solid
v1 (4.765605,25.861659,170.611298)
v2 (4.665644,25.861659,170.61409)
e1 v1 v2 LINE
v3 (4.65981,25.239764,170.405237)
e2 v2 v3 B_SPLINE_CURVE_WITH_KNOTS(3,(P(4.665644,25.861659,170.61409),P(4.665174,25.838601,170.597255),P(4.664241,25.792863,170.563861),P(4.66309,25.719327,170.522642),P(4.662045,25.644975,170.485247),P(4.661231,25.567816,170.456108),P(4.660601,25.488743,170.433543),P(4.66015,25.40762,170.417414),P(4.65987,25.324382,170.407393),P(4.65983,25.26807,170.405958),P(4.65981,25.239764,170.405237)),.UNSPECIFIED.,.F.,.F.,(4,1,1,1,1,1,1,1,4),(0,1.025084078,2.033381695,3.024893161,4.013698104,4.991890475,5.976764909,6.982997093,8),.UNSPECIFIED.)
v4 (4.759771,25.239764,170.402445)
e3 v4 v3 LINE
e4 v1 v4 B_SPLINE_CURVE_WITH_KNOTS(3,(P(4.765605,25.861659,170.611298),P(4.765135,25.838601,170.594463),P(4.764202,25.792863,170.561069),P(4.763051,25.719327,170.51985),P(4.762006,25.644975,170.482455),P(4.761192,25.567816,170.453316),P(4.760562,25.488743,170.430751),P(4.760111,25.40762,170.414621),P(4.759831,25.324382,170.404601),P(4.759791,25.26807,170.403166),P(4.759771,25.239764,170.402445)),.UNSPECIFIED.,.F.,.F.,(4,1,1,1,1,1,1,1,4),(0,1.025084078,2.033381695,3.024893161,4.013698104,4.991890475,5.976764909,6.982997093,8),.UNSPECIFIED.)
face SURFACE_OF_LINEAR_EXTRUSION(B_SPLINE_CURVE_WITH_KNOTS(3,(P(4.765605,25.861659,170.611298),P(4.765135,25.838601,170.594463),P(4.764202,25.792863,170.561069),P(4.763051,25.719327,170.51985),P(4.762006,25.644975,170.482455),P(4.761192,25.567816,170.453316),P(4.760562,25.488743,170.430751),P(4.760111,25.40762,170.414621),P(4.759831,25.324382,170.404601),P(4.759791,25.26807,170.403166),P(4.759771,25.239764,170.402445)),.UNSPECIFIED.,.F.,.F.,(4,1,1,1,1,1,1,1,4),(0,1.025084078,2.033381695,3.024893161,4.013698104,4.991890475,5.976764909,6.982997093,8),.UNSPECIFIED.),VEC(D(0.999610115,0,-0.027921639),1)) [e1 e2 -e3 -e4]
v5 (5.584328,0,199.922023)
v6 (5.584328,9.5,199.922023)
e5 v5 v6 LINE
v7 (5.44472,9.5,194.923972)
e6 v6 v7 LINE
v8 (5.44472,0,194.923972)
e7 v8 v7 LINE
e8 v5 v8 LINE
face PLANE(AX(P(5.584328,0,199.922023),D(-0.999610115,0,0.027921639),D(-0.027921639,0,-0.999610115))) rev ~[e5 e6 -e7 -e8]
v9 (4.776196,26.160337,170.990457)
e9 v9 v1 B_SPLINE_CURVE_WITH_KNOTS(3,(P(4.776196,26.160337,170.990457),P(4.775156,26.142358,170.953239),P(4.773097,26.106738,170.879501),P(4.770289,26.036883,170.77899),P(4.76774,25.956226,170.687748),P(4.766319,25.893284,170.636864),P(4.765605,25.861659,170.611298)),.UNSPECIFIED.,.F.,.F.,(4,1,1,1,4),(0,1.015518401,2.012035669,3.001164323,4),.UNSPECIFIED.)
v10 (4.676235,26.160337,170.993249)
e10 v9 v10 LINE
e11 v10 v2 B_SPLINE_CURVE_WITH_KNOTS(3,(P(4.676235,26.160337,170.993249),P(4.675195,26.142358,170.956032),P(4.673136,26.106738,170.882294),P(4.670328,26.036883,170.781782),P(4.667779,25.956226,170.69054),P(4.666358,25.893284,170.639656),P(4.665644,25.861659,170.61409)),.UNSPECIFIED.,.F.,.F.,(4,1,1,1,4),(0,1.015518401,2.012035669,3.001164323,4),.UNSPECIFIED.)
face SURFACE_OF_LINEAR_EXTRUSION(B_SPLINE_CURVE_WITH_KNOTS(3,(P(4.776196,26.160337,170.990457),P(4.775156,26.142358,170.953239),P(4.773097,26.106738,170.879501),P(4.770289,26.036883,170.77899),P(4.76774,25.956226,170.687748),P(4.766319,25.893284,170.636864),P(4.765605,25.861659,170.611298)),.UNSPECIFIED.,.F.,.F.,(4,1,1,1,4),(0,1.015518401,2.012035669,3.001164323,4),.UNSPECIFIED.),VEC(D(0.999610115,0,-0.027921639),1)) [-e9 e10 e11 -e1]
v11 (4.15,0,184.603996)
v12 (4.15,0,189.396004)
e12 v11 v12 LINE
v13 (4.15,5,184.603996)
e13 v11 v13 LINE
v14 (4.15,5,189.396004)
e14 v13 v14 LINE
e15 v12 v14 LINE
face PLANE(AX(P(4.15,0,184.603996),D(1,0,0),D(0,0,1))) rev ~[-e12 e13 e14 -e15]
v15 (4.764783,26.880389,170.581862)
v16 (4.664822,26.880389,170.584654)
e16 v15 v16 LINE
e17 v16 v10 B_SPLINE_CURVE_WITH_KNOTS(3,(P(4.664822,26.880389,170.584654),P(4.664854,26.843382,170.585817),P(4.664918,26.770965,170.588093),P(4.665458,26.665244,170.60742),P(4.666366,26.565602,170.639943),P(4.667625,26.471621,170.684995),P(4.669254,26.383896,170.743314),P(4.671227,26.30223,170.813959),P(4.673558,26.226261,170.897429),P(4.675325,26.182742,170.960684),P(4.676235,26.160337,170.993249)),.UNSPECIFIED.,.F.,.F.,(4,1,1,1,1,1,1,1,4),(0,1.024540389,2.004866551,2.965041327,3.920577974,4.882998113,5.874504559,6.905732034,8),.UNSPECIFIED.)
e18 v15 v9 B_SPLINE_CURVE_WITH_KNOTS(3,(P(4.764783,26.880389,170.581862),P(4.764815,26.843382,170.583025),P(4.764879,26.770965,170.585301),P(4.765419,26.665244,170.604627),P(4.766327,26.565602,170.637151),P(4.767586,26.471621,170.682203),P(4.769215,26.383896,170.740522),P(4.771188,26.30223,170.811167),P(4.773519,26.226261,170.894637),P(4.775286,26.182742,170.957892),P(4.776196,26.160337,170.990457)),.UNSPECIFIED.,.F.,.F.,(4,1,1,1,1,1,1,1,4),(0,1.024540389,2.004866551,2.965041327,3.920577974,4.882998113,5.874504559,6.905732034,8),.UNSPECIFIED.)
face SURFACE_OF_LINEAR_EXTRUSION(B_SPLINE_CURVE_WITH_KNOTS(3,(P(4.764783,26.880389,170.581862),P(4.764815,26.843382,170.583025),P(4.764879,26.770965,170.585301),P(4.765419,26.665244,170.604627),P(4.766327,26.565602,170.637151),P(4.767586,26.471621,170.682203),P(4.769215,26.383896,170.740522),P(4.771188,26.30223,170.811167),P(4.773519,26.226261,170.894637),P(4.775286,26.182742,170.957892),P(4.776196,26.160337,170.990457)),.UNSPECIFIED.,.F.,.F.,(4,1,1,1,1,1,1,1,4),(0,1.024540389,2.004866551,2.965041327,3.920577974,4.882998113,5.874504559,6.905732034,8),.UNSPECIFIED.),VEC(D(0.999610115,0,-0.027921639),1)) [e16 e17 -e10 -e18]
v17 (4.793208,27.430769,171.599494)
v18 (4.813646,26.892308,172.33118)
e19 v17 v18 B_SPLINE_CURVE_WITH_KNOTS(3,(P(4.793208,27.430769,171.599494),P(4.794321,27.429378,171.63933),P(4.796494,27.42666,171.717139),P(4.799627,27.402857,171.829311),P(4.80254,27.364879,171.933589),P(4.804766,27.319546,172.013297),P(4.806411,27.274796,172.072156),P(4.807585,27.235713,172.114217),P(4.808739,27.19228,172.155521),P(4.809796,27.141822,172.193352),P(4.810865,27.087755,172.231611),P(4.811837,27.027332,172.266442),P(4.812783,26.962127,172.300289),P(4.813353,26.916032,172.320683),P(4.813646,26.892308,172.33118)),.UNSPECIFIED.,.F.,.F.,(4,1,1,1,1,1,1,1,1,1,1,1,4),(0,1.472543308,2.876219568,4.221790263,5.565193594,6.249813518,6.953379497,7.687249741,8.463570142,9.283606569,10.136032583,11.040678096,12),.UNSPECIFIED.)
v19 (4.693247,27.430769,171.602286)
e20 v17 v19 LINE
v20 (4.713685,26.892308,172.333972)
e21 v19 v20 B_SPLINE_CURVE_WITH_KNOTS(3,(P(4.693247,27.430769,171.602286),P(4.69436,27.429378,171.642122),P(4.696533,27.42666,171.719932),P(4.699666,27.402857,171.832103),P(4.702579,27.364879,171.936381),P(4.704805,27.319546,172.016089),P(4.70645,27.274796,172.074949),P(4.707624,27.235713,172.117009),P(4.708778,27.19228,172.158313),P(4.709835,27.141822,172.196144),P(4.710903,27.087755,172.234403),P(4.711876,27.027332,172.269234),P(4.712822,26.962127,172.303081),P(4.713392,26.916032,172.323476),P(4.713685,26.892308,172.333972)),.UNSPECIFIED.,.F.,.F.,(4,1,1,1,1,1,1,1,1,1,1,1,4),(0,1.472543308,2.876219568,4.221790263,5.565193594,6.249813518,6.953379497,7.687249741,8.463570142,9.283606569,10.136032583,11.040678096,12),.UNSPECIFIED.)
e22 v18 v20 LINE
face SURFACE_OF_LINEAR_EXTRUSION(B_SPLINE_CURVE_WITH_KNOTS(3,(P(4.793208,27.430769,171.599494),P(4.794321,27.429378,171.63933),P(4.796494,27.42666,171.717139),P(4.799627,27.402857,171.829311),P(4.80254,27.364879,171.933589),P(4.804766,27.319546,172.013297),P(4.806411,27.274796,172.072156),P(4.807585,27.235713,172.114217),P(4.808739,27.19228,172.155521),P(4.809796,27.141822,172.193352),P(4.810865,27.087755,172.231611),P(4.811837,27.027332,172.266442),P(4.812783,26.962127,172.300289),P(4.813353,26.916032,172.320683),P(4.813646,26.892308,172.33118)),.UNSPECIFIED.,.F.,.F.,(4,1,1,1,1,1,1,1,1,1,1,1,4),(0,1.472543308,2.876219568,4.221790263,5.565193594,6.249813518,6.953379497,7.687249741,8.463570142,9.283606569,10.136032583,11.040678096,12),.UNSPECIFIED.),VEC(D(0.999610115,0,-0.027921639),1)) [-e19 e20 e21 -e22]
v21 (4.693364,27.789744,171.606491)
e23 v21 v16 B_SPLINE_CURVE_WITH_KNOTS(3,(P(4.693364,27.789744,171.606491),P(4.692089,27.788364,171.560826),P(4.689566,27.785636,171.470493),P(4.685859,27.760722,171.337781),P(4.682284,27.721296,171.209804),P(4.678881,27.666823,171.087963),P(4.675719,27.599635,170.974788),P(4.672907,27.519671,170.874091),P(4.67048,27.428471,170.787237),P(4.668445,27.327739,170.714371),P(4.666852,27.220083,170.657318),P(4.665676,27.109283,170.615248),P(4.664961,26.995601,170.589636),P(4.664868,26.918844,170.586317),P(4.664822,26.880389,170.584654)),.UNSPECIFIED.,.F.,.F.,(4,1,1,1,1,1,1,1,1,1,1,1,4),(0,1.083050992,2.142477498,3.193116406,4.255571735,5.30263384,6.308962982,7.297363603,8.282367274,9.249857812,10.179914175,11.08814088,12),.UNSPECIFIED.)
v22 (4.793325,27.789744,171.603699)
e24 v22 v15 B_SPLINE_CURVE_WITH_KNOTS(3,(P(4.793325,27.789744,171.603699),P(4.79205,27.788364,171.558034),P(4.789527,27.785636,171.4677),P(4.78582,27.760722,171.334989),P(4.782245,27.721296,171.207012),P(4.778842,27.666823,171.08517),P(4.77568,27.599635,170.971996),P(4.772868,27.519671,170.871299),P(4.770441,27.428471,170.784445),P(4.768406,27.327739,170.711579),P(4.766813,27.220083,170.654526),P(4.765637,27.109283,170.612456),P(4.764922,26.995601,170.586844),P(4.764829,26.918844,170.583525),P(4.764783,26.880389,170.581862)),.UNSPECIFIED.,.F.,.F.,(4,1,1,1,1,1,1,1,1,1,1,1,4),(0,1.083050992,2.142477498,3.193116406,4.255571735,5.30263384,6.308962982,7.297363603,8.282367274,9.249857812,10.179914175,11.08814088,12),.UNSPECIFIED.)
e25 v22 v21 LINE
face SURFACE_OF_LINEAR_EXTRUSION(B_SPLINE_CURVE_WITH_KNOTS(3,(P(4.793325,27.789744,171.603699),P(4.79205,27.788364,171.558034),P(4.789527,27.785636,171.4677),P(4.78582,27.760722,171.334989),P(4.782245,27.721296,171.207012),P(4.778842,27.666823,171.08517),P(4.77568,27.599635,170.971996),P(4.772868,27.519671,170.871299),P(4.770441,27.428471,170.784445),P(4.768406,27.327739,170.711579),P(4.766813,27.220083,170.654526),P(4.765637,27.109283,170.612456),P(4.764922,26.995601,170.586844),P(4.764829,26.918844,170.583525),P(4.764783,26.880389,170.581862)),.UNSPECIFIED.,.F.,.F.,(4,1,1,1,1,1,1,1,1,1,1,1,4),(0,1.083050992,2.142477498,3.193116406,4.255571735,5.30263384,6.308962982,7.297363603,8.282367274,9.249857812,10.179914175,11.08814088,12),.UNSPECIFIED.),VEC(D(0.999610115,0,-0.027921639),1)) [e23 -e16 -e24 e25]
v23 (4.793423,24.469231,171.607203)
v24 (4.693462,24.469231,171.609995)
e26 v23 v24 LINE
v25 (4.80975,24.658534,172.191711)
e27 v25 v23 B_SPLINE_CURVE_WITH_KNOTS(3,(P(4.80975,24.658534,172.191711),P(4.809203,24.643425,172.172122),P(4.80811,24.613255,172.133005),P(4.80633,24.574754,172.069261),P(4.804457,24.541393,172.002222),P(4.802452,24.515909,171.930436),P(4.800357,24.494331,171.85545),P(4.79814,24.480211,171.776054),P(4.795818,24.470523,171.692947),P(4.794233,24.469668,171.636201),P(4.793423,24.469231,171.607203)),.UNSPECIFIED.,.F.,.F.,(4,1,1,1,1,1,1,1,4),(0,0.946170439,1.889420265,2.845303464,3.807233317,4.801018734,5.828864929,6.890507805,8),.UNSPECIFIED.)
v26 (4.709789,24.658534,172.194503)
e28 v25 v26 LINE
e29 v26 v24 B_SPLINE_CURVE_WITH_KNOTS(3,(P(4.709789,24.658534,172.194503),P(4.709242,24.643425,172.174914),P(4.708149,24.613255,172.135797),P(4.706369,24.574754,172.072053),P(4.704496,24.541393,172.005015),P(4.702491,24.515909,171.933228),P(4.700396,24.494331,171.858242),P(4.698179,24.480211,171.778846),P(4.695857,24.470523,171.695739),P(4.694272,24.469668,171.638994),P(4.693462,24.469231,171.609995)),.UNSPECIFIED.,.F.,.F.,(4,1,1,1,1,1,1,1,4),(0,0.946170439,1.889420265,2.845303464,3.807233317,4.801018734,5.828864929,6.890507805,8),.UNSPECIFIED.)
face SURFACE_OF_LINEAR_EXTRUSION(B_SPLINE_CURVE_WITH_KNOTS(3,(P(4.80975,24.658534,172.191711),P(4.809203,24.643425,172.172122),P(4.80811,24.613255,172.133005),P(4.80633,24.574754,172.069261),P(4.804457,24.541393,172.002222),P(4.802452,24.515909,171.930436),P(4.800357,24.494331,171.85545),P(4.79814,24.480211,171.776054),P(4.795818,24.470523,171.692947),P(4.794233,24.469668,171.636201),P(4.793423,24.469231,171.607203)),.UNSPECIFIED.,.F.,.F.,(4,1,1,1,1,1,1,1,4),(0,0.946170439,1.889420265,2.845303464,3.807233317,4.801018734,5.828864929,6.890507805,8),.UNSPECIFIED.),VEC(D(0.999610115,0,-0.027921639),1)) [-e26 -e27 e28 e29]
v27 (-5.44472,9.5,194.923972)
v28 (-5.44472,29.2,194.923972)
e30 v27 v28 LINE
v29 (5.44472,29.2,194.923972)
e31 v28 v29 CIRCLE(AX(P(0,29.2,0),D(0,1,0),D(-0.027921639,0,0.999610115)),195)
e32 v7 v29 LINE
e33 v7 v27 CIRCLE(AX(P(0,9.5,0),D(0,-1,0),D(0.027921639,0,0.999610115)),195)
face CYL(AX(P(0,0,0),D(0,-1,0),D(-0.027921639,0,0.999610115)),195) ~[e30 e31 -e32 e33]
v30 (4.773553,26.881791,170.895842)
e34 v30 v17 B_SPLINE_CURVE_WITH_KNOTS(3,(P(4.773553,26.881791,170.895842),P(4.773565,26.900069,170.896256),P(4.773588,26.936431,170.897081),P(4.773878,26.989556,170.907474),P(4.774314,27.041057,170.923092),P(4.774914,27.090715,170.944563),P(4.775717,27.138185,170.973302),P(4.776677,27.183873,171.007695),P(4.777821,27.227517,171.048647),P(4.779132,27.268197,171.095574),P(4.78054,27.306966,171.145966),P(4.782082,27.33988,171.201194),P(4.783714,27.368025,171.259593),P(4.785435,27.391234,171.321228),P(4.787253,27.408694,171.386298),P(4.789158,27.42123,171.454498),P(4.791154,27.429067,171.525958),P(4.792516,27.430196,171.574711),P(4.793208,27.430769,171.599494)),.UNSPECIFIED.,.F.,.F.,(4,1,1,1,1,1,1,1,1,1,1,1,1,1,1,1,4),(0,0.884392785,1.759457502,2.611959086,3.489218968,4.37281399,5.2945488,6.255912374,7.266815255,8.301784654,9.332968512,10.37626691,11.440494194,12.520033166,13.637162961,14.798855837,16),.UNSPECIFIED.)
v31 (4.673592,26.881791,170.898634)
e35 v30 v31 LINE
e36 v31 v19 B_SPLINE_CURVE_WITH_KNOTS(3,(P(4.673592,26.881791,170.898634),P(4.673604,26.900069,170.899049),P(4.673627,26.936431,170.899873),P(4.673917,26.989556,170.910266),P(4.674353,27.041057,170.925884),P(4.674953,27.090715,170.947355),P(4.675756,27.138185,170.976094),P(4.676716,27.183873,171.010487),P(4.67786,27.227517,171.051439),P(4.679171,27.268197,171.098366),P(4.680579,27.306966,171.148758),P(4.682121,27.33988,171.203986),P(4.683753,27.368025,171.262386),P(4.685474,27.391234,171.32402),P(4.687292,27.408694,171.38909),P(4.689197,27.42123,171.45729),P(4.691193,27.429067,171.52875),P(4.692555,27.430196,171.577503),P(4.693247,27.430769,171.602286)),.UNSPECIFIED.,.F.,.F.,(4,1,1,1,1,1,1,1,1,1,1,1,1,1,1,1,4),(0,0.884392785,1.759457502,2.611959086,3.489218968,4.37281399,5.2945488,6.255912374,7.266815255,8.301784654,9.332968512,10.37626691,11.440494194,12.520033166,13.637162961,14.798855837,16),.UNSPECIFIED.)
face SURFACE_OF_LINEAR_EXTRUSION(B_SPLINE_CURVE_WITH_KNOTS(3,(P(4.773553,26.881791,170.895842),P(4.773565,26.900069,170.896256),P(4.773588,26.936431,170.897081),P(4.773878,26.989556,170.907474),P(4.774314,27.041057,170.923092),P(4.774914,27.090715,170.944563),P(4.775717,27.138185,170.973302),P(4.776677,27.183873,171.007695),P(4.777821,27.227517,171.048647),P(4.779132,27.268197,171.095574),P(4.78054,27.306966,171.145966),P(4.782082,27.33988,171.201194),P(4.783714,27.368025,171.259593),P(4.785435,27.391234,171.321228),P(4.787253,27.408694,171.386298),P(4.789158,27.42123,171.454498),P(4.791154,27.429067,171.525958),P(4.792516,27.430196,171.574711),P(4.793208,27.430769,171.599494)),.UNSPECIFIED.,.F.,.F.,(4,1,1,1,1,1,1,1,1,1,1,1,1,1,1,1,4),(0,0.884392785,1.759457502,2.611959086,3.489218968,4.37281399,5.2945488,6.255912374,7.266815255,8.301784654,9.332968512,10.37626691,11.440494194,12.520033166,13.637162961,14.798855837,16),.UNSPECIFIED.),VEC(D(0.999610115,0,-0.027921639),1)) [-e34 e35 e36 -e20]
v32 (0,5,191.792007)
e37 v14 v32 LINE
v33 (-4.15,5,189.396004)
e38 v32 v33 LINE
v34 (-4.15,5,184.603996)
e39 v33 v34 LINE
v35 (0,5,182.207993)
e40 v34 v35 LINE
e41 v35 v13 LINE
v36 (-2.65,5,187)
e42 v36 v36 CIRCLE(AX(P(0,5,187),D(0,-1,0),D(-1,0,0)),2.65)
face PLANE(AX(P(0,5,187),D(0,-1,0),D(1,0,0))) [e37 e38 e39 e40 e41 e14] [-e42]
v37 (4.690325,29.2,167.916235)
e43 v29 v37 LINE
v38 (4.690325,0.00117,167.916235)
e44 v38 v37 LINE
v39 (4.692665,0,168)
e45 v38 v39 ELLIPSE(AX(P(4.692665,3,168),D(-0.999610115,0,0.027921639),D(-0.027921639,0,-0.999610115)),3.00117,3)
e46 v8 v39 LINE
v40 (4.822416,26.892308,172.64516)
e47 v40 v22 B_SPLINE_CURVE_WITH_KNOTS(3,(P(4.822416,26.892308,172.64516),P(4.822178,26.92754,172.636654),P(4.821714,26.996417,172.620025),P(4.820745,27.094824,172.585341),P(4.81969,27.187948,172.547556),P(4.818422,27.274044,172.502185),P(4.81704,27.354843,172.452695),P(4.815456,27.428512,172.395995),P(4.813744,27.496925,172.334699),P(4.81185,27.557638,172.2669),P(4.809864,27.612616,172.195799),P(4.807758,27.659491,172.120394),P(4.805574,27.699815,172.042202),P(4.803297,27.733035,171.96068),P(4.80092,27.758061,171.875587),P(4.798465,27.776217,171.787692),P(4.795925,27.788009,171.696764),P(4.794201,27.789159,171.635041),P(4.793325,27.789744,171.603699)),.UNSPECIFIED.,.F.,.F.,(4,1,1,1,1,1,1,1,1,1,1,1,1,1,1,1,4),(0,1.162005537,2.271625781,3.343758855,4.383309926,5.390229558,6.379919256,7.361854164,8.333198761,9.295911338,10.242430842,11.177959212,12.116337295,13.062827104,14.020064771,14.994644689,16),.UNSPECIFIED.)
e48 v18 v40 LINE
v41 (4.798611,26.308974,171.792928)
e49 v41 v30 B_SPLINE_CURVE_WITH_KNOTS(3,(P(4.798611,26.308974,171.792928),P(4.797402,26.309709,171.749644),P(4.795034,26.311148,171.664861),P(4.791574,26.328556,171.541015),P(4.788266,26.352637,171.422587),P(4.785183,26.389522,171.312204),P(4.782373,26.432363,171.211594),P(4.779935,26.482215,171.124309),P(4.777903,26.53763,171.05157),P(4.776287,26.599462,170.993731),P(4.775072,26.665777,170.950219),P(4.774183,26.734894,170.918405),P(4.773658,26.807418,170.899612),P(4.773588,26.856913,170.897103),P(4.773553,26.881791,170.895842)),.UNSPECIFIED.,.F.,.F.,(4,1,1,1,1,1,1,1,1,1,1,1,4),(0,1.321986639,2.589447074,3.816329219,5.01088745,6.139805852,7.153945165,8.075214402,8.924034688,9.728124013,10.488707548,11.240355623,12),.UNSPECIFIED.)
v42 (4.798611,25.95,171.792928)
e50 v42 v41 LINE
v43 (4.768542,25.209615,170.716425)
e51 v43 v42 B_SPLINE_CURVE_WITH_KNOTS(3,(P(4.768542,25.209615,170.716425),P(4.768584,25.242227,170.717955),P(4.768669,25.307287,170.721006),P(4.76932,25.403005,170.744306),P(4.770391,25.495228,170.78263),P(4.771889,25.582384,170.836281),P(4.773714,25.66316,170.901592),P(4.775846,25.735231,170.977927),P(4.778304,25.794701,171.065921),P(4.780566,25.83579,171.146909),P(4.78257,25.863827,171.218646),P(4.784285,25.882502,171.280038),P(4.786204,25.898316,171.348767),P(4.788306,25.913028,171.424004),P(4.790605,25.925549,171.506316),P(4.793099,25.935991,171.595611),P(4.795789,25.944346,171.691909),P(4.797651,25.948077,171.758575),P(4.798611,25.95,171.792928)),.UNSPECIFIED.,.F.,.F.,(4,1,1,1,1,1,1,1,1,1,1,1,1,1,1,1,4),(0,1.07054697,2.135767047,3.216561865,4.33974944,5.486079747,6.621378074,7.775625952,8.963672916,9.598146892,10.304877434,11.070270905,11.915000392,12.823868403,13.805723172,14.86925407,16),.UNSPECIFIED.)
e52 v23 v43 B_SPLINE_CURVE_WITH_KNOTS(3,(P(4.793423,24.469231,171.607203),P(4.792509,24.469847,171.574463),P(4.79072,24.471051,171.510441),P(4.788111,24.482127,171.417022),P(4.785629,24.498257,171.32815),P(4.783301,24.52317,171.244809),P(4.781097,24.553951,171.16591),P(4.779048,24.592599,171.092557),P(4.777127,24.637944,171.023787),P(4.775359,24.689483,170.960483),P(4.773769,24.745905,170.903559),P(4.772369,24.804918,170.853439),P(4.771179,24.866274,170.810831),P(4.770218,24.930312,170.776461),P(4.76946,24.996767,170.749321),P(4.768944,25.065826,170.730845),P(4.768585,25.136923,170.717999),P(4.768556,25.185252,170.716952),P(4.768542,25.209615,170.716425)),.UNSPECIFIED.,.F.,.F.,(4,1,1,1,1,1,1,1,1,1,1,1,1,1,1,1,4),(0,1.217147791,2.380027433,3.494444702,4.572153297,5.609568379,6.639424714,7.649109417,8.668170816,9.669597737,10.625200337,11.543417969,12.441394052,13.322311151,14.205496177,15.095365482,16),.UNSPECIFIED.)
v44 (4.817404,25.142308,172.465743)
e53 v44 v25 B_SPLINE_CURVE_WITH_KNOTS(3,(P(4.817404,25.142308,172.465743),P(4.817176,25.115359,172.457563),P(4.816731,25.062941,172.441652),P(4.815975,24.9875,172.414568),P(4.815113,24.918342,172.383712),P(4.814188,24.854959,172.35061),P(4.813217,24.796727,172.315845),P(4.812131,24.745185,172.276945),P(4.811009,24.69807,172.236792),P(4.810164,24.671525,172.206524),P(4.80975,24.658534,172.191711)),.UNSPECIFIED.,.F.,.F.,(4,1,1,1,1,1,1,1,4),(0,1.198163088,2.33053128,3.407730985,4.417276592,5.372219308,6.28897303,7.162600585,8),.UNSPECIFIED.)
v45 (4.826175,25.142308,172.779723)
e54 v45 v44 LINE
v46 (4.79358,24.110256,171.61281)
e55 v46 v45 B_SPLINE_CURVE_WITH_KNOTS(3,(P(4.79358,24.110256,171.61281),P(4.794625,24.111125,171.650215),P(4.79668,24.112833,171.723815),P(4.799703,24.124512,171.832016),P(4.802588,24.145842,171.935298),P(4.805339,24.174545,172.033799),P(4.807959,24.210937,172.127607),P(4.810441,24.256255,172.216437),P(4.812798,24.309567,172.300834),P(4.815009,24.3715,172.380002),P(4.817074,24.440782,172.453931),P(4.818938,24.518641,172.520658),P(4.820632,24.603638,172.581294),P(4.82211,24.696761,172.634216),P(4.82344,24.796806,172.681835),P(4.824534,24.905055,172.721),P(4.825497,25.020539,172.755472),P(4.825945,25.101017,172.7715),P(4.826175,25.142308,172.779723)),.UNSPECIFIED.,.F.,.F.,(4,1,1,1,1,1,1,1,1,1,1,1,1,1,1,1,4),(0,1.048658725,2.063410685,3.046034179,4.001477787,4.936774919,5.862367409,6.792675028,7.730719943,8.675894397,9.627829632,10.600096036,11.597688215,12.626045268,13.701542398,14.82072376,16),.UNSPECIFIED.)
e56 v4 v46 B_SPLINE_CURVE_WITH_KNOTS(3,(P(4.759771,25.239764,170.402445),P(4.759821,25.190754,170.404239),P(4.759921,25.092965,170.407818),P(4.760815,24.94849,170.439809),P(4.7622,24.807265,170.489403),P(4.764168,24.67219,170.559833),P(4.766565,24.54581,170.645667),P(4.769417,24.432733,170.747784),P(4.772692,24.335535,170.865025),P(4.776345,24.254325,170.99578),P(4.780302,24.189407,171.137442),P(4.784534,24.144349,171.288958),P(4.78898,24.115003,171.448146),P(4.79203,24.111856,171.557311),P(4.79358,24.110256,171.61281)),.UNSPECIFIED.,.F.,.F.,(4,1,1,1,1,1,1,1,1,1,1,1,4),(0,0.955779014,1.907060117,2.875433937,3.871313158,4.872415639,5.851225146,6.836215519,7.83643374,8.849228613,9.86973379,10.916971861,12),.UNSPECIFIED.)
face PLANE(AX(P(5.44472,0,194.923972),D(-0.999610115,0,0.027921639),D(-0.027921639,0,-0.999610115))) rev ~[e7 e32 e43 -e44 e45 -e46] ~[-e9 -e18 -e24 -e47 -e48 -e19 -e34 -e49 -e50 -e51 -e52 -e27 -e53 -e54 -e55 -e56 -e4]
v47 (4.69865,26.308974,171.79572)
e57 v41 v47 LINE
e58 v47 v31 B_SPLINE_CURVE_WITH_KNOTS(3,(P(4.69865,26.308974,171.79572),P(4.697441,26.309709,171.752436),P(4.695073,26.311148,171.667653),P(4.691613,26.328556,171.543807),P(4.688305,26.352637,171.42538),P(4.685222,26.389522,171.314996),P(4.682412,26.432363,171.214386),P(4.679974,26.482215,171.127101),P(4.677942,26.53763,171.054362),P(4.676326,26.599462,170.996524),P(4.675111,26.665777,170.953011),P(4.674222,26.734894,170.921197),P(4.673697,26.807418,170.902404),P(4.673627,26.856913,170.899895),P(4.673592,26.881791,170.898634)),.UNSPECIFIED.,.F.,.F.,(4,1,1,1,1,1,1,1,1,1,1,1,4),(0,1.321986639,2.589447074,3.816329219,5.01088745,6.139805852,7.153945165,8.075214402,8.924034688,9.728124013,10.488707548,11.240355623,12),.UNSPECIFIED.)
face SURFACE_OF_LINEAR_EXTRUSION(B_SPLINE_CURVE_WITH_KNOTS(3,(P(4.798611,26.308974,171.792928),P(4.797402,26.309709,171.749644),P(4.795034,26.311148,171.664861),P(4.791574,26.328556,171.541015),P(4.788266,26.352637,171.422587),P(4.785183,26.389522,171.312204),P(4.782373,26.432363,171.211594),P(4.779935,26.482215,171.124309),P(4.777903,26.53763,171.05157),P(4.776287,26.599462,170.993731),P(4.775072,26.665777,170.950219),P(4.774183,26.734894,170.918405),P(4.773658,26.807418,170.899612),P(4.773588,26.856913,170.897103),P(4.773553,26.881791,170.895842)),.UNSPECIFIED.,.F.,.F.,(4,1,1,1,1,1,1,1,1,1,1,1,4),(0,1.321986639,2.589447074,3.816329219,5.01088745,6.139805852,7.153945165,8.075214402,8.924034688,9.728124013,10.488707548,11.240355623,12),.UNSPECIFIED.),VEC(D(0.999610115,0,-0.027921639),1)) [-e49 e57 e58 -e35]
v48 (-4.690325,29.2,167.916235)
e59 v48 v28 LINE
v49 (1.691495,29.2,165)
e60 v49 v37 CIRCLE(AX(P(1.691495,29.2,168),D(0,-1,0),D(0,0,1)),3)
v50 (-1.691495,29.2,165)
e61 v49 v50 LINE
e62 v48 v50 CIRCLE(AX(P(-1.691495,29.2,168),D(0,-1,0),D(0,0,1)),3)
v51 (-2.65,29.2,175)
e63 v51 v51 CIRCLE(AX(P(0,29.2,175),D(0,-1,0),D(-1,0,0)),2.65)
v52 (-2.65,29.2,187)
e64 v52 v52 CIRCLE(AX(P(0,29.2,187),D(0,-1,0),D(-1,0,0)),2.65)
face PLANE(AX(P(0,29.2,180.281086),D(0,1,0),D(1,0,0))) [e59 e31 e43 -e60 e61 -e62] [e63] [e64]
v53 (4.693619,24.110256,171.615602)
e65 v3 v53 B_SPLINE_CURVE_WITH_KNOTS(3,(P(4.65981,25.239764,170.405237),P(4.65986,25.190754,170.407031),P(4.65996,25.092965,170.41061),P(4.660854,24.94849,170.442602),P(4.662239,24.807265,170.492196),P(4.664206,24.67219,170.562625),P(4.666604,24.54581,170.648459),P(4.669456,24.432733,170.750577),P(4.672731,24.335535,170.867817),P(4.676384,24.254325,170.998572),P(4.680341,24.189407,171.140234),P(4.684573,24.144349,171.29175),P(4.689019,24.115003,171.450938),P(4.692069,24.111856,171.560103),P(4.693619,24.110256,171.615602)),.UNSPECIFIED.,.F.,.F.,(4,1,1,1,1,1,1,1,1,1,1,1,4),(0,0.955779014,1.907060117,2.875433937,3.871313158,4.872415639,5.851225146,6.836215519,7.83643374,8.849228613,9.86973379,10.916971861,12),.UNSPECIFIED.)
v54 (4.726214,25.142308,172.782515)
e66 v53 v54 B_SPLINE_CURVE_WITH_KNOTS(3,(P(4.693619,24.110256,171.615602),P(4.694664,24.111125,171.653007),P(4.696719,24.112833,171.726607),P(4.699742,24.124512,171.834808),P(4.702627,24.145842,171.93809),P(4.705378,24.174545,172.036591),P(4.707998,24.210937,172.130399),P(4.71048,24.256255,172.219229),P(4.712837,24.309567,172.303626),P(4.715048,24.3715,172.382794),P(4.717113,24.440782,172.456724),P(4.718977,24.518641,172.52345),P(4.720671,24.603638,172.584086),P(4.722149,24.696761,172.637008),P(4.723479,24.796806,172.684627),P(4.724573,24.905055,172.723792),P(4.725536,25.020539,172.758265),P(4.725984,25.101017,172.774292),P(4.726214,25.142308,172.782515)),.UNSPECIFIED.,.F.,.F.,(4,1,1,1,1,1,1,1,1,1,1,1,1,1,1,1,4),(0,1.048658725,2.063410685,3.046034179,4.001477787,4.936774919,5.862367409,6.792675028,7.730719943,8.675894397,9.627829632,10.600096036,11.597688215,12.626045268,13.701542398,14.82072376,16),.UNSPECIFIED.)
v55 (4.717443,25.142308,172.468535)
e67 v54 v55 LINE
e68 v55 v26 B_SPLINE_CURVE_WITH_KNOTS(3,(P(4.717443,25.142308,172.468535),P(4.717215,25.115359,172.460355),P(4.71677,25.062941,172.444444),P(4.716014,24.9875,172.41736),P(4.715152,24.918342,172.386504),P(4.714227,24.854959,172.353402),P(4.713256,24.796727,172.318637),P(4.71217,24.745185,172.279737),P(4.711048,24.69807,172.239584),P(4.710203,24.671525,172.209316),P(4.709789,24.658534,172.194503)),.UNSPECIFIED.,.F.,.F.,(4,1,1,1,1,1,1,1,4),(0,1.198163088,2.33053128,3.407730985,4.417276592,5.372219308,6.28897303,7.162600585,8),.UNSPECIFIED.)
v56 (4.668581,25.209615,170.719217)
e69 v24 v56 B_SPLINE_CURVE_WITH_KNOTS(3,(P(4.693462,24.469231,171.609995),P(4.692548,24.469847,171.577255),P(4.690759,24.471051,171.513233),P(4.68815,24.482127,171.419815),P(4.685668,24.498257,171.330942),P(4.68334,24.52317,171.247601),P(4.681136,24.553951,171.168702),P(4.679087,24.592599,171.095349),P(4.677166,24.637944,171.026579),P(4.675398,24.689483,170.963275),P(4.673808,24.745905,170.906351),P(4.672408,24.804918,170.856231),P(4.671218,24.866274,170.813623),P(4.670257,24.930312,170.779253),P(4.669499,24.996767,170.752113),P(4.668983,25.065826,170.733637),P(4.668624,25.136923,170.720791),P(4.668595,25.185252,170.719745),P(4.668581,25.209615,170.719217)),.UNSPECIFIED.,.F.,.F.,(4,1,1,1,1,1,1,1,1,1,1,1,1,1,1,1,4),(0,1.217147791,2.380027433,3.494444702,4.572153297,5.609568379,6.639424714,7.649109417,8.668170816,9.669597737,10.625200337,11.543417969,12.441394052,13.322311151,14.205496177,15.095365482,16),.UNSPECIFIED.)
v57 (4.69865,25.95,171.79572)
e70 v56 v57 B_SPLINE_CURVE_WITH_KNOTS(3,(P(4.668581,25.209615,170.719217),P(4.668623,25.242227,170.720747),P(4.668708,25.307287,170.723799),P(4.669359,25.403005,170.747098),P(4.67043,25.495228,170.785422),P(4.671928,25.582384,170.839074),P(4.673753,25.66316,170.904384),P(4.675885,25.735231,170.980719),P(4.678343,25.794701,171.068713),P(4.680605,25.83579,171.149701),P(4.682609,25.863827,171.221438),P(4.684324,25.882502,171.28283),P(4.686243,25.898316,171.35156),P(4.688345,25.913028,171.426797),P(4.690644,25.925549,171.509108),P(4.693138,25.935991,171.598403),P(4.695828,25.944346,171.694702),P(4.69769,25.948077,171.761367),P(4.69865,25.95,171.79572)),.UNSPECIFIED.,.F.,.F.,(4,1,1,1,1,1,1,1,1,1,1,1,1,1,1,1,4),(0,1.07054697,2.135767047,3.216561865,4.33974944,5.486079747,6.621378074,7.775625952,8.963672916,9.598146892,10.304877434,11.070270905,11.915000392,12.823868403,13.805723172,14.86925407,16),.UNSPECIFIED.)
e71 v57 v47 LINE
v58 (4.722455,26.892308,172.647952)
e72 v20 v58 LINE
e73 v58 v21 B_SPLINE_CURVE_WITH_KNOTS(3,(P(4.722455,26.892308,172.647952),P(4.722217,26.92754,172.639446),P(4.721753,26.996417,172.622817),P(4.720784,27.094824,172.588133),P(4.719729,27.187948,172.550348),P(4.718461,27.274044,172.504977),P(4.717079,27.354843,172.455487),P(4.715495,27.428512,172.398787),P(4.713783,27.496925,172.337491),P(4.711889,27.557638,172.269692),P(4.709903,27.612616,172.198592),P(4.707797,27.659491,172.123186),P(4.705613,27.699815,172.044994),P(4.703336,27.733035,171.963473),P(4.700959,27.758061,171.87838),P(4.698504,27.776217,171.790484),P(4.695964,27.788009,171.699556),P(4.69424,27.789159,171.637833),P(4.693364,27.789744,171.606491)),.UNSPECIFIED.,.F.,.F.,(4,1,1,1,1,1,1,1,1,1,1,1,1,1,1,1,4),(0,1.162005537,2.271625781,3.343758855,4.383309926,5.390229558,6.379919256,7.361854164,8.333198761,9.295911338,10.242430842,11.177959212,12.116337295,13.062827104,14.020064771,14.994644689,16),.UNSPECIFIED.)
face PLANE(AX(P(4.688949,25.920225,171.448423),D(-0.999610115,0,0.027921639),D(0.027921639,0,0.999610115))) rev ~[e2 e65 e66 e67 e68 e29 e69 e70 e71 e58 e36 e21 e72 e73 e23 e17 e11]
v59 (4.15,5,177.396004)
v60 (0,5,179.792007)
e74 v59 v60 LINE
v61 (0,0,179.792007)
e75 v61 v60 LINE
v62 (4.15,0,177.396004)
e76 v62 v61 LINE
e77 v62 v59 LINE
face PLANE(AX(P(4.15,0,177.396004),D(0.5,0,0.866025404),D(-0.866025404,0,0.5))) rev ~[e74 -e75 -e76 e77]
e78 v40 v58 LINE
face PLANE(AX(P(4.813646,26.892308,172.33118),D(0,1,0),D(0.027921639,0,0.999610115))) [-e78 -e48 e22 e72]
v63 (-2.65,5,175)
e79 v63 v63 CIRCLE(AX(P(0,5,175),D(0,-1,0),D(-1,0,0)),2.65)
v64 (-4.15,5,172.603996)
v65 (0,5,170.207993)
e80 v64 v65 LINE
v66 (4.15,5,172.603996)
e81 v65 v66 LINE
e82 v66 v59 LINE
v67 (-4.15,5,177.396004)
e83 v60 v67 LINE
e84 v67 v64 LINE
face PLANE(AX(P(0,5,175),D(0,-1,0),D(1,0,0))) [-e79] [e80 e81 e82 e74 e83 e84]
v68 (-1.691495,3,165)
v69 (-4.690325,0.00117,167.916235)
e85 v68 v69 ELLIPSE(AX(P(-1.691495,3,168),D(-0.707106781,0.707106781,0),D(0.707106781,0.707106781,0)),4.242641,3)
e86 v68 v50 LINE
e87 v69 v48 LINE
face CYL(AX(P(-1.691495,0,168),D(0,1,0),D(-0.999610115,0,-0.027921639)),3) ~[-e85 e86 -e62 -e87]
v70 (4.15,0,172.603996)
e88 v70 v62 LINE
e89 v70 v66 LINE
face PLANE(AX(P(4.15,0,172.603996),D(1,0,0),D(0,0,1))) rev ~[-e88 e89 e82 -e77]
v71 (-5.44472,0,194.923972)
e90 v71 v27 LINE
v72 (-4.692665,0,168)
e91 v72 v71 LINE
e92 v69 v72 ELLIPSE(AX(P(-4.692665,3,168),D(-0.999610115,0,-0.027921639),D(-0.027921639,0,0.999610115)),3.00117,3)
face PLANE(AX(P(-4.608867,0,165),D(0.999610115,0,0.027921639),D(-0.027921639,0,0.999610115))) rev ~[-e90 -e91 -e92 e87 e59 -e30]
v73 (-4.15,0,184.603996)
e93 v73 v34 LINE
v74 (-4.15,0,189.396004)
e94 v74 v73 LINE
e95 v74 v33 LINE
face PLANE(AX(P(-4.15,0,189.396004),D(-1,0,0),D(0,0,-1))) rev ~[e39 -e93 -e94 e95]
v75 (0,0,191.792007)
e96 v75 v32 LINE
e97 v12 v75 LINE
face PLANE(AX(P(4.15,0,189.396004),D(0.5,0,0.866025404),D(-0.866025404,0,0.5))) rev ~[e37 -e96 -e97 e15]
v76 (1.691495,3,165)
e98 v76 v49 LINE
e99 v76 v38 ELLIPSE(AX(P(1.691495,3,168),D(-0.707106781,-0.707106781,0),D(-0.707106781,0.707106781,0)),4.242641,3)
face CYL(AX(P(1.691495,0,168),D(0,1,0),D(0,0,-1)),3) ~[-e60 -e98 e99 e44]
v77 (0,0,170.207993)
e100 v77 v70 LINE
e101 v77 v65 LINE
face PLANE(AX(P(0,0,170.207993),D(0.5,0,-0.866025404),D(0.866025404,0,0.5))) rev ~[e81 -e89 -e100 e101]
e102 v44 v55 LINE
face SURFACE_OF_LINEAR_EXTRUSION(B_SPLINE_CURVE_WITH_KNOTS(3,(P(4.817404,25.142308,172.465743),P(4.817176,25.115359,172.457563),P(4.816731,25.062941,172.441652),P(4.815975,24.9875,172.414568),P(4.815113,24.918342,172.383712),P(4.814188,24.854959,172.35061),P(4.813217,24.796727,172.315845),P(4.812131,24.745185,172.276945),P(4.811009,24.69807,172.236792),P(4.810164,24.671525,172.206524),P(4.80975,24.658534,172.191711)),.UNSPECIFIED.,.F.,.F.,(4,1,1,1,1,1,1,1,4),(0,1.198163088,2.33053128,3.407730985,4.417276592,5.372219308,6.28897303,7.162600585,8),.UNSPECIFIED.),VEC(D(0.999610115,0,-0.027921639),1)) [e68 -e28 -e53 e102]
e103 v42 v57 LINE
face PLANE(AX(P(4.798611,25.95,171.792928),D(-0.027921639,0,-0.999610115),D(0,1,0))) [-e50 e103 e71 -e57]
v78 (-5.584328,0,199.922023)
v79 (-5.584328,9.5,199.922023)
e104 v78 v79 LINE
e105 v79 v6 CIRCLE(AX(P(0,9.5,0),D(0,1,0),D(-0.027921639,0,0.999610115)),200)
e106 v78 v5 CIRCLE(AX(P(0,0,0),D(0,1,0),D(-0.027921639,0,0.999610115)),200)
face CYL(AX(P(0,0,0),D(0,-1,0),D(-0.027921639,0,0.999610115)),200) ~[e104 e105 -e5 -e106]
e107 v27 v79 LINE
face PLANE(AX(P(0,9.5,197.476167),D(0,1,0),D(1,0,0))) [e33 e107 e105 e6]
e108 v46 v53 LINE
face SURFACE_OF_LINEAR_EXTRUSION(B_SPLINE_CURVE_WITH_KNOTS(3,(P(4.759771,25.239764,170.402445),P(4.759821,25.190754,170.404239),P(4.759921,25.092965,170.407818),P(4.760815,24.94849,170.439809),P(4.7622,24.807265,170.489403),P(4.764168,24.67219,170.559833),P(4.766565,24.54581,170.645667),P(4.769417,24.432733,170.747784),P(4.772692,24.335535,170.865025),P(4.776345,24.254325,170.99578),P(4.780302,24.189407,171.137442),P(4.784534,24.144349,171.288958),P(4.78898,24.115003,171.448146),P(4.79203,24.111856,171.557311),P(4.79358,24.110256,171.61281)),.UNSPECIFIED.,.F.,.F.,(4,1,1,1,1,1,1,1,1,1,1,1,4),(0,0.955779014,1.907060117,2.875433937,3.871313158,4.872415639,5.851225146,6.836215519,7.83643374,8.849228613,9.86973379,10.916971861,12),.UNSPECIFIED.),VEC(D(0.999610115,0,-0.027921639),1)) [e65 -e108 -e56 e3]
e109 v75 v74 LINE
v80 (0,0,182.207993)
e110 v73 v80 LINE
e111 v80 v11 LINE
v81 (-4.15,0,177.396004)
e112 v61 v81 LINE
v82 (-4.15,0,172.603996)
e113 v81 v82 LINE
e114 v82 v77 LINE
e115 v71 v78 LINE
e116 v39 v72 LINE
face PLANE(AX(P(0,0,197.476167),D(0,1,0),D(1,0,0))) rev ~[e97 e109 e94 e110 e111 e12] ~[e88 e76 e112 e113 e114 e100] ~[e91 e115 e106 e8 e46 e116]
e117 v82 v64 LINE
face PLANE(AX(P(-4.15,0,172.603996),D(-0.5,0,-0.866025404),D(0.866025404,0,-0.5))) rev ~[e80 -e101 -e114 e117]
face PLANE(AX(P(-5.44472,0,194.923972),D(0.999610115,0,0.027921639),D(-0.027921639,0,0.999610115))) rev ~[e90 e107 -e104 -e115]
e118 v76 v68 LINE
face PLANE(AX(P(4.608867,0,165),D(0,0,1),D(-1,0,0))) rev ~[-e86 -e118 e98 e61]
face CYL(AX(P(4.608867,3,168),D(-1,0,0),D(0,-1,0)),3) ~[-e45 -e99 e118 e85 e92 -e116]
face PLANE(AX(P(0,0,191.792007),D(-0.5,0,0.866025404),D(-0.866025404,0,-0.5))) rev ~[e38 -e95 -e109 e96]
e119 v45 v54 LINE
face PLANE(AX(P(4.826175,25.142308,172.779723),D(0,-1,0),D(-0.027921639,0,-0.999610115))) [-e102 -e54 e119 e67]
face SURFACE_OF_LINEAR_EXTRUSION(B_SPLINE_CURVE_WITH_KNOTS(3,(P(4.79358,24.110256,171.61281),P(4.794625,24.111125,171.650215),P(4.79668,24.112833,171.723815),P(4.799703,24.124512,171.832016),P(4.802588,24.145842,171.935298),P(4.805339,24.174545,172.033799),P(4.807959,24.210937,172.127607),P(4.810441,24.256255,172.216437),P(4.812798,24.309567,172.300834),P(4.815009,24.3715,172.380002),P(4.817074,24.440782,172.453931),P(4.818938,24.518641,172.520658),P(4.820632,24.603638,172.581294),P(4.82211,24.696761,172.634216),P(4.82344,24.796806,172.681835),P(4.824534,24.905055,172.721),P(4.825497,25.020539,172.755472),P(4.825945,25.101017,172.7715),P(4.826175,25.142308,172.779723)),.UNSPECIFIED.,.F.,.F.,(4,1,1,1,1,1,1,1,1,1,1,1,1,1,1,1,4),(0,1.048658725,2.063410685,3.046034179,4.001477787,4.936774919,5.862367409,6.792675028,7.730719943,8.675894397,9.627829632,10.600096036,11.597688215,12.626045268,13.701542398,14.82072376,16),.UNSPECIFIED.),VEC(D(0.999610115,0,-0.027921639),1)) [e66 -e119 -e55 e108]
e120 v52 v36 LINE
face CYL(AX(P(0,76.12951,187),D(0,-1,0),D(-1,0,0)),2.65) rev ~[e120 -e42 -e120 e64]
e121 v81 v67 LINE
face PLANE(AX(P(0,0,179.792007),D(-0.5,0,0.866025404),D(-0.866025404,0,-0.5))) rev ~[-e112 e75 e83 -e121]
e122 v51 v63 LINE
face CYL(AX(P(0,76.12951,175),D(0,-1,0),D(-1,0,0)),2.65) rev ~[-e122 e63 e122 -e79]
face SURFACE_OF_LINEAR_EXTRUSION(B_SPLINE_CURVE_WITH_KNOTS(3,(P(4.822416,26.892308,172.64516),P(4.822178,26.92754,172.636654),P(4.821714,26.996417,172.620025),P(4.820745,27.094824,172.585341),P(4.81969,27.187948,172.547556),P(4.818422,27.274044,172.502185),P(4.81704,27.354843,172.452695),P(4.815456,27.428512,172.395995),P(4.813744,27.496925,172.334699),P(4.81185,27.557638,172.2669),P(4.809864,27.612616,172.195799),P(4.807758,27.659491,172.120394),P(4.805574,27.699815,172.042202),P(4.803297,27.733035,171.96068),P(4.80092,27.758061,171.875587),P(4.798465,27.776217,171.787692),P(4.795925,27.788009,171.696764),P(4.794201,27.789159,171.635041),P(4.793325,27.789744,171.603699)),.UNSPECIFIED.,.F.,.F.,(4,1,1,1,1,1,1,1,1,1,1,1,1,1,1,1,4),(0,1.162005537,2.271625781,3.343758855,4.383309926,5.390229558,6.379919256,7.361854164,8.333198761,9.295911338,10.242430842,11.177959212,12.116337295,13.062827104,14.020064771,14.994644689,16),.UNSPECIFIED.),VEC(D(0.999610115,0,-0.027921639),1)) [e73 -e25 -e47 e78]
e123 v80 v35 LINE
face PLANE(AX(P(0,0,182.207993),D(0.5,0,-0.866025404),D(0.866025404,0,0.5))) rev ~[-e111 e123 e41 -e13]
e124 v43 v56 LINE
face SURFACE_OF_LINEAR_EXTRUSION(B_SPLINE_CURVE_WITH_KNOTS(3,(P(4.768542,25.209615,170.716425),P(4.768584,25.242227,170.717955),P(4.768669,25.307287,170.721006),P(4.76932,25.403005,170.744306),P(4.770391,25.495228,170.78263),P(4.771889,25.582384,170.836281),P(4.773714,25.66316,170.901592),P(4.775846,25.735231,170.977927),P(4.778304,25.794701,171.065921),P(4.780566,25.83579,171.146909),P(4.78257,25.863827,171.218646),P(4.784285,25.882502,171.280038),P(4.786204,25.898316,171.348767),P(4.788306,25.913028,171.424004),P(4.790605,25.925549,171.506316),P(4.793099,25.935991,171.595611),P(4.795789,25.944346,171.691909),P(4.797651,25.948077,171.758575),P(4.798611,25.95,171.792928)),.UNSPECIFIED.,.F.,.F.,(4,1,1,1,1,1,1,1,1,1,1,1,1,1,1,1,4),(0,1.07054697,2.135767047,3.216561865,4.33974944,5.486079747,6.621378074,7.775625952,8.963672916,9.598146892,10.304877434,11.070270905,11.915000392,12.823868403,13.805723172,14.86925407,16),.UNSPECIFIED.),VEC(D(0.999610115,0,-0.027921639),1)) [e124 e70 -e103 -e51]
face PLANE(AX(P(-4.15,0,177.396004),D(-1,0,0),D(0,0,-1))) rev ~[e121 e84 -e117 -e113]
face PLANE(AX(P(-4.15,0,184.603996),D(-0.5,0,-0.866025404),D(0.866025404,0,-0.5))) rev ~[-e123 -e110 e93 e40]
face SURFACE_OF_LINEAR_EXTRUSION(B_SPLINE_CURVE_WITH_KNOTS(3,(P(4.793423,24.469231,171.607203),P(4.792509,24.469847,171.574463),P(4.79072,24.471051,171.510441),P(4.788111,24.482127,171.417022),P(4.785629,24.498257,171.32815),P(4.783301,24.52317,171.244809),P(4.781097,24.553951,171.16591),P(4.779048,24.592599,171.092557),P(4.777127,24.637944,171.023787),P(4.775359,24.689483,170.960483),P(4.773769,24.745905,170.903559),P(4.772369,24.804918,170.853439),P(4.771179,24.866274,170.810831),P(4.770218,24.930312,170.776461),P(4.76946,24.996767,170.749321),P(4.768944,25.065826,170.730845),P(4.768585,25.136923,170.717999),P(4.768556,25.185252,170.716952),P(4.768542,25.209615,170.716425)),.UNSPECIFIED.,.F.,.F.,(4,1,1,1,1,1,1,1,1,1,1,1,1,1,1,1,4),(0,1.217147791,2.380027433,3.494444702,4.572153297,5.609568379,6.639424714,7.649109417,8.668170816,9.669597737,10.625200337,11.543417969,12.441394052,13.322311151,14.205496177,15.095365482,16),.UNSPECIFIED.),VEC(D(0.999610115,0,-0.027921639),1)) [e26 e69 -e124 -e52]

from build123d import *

# Parameters (mm, degrees)
EXTRUDE_590_DEPTH   = 29.2
EXTRUDE_638_DEPTH   = 9.5
FILLET_1_R          = 3
HOLE_WIZARD_M5_1_D  = 5.3
CUT_EXTRUDE_1_DEPTH = 5
CUT_EXTRUDE_2_DEPTH = 0.1


with BuildPart() as part:
    # 草图1 → Extrude 590 (new body)
    with BuildSketch(Plane(origin=(0, 0, 0), x_dir=(1, 0, 0), z_dir=(0, 1, 0))):
        with BuildLine():
            Line((4.608867317, -165), (-4.608867317, -165))
            Line((-4.608867317, -165), (-5.444719551, -194.923972433))
            ThreePointArc((-5.444719551, -194.923972433), (0, -195), (5.444719551, -194.923972433))
            Line((5.444719551, -194.923972433), (4.608867317, -165))
        make_face()
    extrude(amount=EXTRUDE_590_DEPTH)

    # 草图1<3> → Extrude 638 (add)
    with BuildSketch(Plane(origin=(0, 0, 0), x_dir=(1, 0, 0), z_dir=(0, 1, 0))):
        with BuildLine():
            ThreePointArc((5.444719551, -194.923972433), (0, -195), (-5.444719551, -194.923972433))
            Line((-5.444719551, -194.923972433), (-5.584327745, -199.922023008))
            ThreePointArc((-5.584327745, -199.922023008), (0, -200), (5.584327745, -199.922023008))
            Line((5.584327745, -199.922023008), (5.444719551, -194.923972433))
        make_face()
    extrude(amount=EXTRUDE_638_DEPTH)

    # 圆角1
    fillet_1_edges = [part.edges().sort_by_distance(p)[0] for p in [
        (4.608867317, 14.6, 165),
        (0, 0, 165),
        (-4.608867317, 14.6, 165),
    ]]
    fillet(fillet_1_edges, radius=FILLET_1_R)

    # M5 间隙孔1 (through all)
    with Locations(Plane(origin=(0, 29.2, 0), x_dir=(1, 0, 0), z_dir=(0, 1, 0))):
        with Locations((0, -187), (0, -175)):
            Hole(HOLE_WIZARD_M5_1_D / 2)

    # 草图6 → 切除-拉伸1 (cut)
    with BuildSketch(Plane.XZ):
        Polygon((0, 179.792007234), (-4.15, 177.396003617), (-4.15, 172.603996383), (0, 170.207992766), (4.15, 172.603996383), (4.15, 177.396003617), align=None)
        Polygon((0, 191.792007234), (-4.15, 189.396003617), (-4.15, 184.603996383), (0, 182.207992766), (4.15, 184.603996383), (4.15, 189.396003617), align=None)
    extrude(amount=-CUT_EXTRUDE_1_DEPTH, mode=Mode.SUBTRACT)

    # 草图7 → 切除-拉伸2 (cut)
    with BuildSketch(Plane(origin=(0, 0, 0), x_dir=(-0.02792163872356911, 0, -0.9996101150403545), z_dir=(0.9996101150403545, 0, -0.02792163872356911))):
        with BuildLine():
            Line((-172.3983953, 26.892307692), (-172.712497864, 26.892307692))
            add(Edge.make_bspline(
                [(-172.712497864, 26.892307692), (-172.703988313, 26.927540176), (-172.687352838, 26.996416801), (-172.652655264, 27.094824062), (-172.614856009, 27.187947583), (-172.569466905, 27.274043657), (-172.51995815, 27.354842559), (-172.463235429, 27.428511684), (-172.401915706, 27.496924649), (-172.334090757, 27.557637887), (-172.262962095, 27.612615616), (-172.187527476, 27.659490673), (-172.109304582, 27.699814826), (-172.027751449, 27.733035058), (-171.942625277, 27.758060582), (-171.854695654, 27.776217387), (-171.763732154, 27.788008502), (-171.701984563, 27.789159265), (-171.670630877, 27.78974359)],
                knots=[0, 0, 0, 0, 1.162005537, 2.271625781, 3.343758855, 4.383309926, 5.390229558, 6.379919256, 7.361854164, 8.333198761, 9.295911338, 10.242430842, 11.177959212, 12.116337295, 13.062827104, 14.020064771, 14.994644689, 16, 16, 16, 16], degree=3))
            add(Edge.make_bspline(
                [(-171.670630877, 27.78974359), (-171.624948135, 27.788364359), (-171.534579124, 27.785635984), (-171.401816077, 27.760721548), (-171.273789258, 27.721296415), (-171.15190001, 27.666822688), (-171.038681577, 27.599635375), (-170.937945391, 27.519670638), (-170.85105688, 27.428471337), (-170.778162502, 27.327738772), (-170.721087503, 27.220083263), (-170.67900113, 27.109283106), (-170.653379449, 26.995601134), (-170.650058892, 26.918843855), (-170.6483953, 26.880388622)],
                knots=[0, 0, 0, 0, 1.083050992, 2.142477498, 3.193116406, 4.255571735, 5.30263384, 6.308962982, 7.297363603, 8.282367274, 9.249857812, 10.179914175, 11.08814088, 12, 12, 12, 12], degree=3))
            add(Edge.make_bspline(
                [(-170.6483953, 26.880388622), (-170.649558891, 26.843381827), (-170.651835858, 26.770965273), (-170.671169564, 26.665243775), (-170.703705827, 26.565602175), (-170.748775589, 26.471621013), (-170.807117139, 26.383896173), (-170.877789836, 26.302230282), (-170.961292498, 26.226261124), (-171.024571436, 26.182741651), (-171.057149306, 26.160336538)],
                knots=[0, 0, 0, 0, 1.024540389, 2.004866551, 2.965041327, 3.920577974, 4.882998113, 5.874504559, 6.905732034, 8, 8, 8, 8], degree=3))
            add(Edge.make_bspline(
                [(-171.057149306, 26.160336538), (-171.019917552, 26.142358367), (-170.946150678, 26.106738409), (-170.845600148, 26.036882652), (-170.754322273, 25.956226304), (-170.703418554, 25.893283652), (-170.677842415, 25.861658654)],
                knots=[0, 0, 0, 0, 1.015518401, 2.012035669, 3.001164323, 4, 4, 4, 4], degree=3))
            add(Edge.make_bspline(
                [(-170.677842415, 25.861658654), (-170.661001073, 25.838600902), (-170.627594177, 25.792862986), (-170.586358643, 25.71932656), (-170.548949529, 25.644975071), (-170.51979931, 25.567815664), (-170.497225443, 25.488742651), (-170.48108941, 25.407620255), (-170.47106527, 25.324382232), (-170.469629718, 25.268069752), (-170.46890812, 25.239763622)],
                knots=[0, 0, 0, 0, 1.025084078, 2.033381695, 3.024893161, 4.013698104, 4.991890475, 5.976764909, 6.982997093, 8, 8, 8, 8], degree=3))
            add(Edge.make_bspline(
                [(-170.46890812, 25.239763622), (-170.470702634, 25.190753901), (-170.474283216, 25.092965099), (-170.50628729, 24.948490377), (-170.555900531, 24.807264875), (-170.626357467, 24.672190036), (-170.712224976, 24.545809655), (-170.8143823, 24.432733346), (-170.931668708, 24.335534741), (-171.062474357, 24.254324513), (-171.204191486, 24.189406591), (-171.355767078, 24.144349148), (-171.515017132, 24.115003148), (-171.624224429, 24.11185628), (-171.67974546, 24.11025641)],
                knots=[0, 0, 0, 0, 0.955779014, 1.907060117, 2.875433937, 3.871313158, 4.872415639, 5.851225146, 6.836215519, 7.83643374, 8.849228613, 9.86973379, 10.916971861, 12, 12, 12, 12], degree=3))
            add(Edge.make_bspline(
                [(-171.67974546, 24.11025641), (-171.717164761, 24.111124624), (-171.790793466, 24.112832978), (-171.899036964, 24.124511579), (-172.002358663, 24.145841584), (-172.100898261, 24.174544889), (-172.194743298, 24.210936632), (-172.283607403, 24.25625533), (-172.368037296, 24.309566832), (-172.447236247, 24.371500419), (-172.521194815, 24.440781759), (-172.587947539, 24.518640769), (-172.648607332, 24.603638173), (-172.701549971, 24.696761229), (-172.749186924, 24.796806487), (-172.78836788, 24.905054985), (-172.822853449, 25.020539007), (-172.838886913, 25.101016747), (-172.847113249, 25.142307692)],
                knots=[0, 0, 0, 0, 1.048658725, 2.063410685, 3.046034179, 4.001477787, 4.936774919, 5.862367409, 6.792675028, 7.730719943, 8.675894397, 9.627829632, 10.600096036, 11.597688215, 12.626045268, 13.701542398, 14.82072376, 16, 16, 16, 16], degree=3))
            Line((-172.847113249, 25.142307692), (-172.533010685, 25.142307692))
            add(Edge.make_bspline(
                [(-172.533010685, 25.142307692), (-172.524827393, 25.115358679), (-172.508910181, 25.062940507), (-172.481815882, 24.987500202), (-172.45094761, 24.918342149), (-172.417833052, 24.854959027), (-172.383054606, 24.796726624), (-172.344139681, 24.745184755), (-172.303970535, 24.698069553), (-172.273691182, 24.671524941), (-172.258872063, 24.658533654)],
                knots=[0, 0, 0, 0, 1.198163088, 2.33053128, 3.407730985, 4.417276592, 5.372219308, 6.28897303, 7.162600585, 8, 8, 8, 8], degree=3))
            add(Edge.make_bspline(
                [(-172.258872063, 24.658533654), (-172.239275486, 24.64342532), (-172.200142823, 24.613255288), (-172.136374592, 24.57475366), (-172.069309706, 24.541392634), (-171.997495032, 24.515908939), (-171.922480262, 24.494331278), (-171.843052896, 24.480210759), (-171.759913679, 24.470522587), (-171.703145916, 24.469667656), (-171.674136486, 24.469230769)],
                knots=[0, 0, 0, 0, 0.946170439, 1.889420265, 2.845303464, 3.807233317, 4.801018734, 5.828864929, 6.890507805, 8, 8, 8, 8], degree=3))
            add(Edge.make_bspline(
                [(-171.674136486, 24.469230769), (-171.641382983, 24.469846674), (-171.577336336, 24.471051024), (-171.483881477, 24.482126731), (-171.394974029, 24.498257144), (-171.311601104, 24.523170127), (-171.232670596, 24.553950979), (-171.159288947, 24.592599384), (-171.09049284, 24.637944106), (-171.027163435, 24.689483264), (-170.970217928, 24.745904759), (-170.920078414, 24.80491783), (-170.877453753, 24.86627366), (-170.843070175, 24.930311781), (-170.815919624, 24.99676701), (-170.797436424, 25.065825839), (-170.784584909, 25.136923105), (-170.783538296, 25.185252074), (-170.783010685, 25.209615385)],
                knots=[0, 0, 0, 0, 1.217147791, 2.380027433, 3.494444702, 4.572153297, 5.609568379, 6.639424714, 7.649109417, 8.668170816, 9.669597737, 10.625200337, 11.543417969, 12.441394052, 13.322311151, 14.205496177, 15.095365482, 16, 16, 16, 16], degree=3))
            add(Edge.make_bspline(
                [(-170.783010685, 25.209615385), (-170.784540986, 25.242226723), (-170.787593975, 25.307287132), (-170.810902554, 25.403004706), (-170.849241418, 25.495228118), (-170.90291393, 25.582383909), (-170.968249658, 25.66315981), (-171.044614565, 25.735231293), (-171.132642793, 25.794701384), (-171.213662662, 25.83579004), (-171.285427819, 25.863827115), (-171.346843203, 25.88250208), (-171.415599807, 25.898315735), (-171.490866156, 25.913028007), (-171.573209372, 25.925549355), (-171.66253981, 25.935991171), (-171.758875572, 25.944346212), (-171.825566738, 25.948077307), (-171.859933762, 25.95)],
                knots=[0, 0, 0, 0, 1.07054697, 2.135767047, 3.216561865, 4.33974944, 5.486079747, 6.621378074, 7.775625952, 8.963672916, 9.598146892, 10.304877434, 11.070270905, 11.915000392, 12.823868403, 13.805723172, 14.86925407, 16, 16, 16, 16], degree=3))
            Line((-171.859933762, 25.95), (-171.859933762, 26.308974359))
            add(Edge.make_bspline(
                [(-171.859933762, 26.308974359), (-171.816632596, 26.309709163), (-171.731816249, 26.311148463), (-171.607921944, 26.328556473), (-171.489448632, 26.352637101), (-171.37902189, 26.389522293), (-171.278373177, 26.43236259), (-171.191053575, 26.4822148), (-171.118286428, 26.537629549), (-171.060425356, 26.599462158), (-171.016896128, 26.665777206), (-170.98506933, 26.734893864), (-170.966269004, 26.807417924), (-170.963759337, 26.856912592), (-170.962497864, 26.881790865)],
                knots=[0, 0, 0, 0, 1.321986639, 2.589447074, 3.816329219, 5.01088745, 6.139805852, 7.153945165, 8.075214402, 8.924034688, 9.728124013, 10.488707548, 11.240355623, 12, 12, 12, 12], degree=3))
            add(Edge.make_bspline(
                [(-170.962497864, 26.881790865), (-170.962912275, 26.900068611), (-170.963736726, 26.936431318), (-170.974134004, 26.989556386), (-170.989758045, 27.041057332), (-171.011237774, 27.090715142), (-171.039987973, 27.138185416), (-171.074393959, 27.183872865), (-171.11536206, 27.227516644), (-171.162307507, 27.268196964), (-171.212719312, 27.306966201), (-171.267969087, 27.339879838), (-171.326390961, 27.3680249), (-171.388049616, 27.391234402), (-171.453145146, 27.40869369), (-171.521371704, 27.421229532), (-171.592859388, 27.429067187), (-171.64163112, 27.430195602), (-171.666424146, 27.430769231)],
                knots=[0, 0, 0, 0, 0.884392785, 1.759457502, 2.611959086, 3.489218968, 4.37281399, 5.2945488, 6.255912374, 7.266815255, 8.301784654, 9.332968512, 10.37626691, 11.440494194, 12.520033166, 13.637162961, 14.798855837, 16, 16, 16, 16], degree=3))
            add(Edge.make_bspline(
                [(-171.666424146, 27.430769231), (-171.706275814, 27.429377869), (-171.784115391, 27.426660215), (-171.896330307, 27.402857202), (-172.000649641, 27.364879118), (-172.080388308, 27.319546099), (-172.139270882, 27.274795665), (-172.18134782, 27.235713279), (-172.222668331, 27.192280455), (-172.260514008, 27.14182208), (-172.298787984, 27.087755289), (-172.333632546, 27.027331608), (-172.367492238, 26.962127214), (-172.387894788, 26.916031579), (-172.3983953, 26.892307692)],
                knots=[0, 0, 0, 0, 1.472543308, 2.876219568, 4.221790263, 5.565193594, 6.249813518, 6.953379497, 7.687249741, 8.463570142, 9.283606569, 10.136032583, 11.040678096, 12, 12, 12, 12], degree=3))
        make_face()
    extrude(amount=-CUT_EXTRUDE_2_DEPTH, mode=Mode.SUBTRACT)


solid = part.part
